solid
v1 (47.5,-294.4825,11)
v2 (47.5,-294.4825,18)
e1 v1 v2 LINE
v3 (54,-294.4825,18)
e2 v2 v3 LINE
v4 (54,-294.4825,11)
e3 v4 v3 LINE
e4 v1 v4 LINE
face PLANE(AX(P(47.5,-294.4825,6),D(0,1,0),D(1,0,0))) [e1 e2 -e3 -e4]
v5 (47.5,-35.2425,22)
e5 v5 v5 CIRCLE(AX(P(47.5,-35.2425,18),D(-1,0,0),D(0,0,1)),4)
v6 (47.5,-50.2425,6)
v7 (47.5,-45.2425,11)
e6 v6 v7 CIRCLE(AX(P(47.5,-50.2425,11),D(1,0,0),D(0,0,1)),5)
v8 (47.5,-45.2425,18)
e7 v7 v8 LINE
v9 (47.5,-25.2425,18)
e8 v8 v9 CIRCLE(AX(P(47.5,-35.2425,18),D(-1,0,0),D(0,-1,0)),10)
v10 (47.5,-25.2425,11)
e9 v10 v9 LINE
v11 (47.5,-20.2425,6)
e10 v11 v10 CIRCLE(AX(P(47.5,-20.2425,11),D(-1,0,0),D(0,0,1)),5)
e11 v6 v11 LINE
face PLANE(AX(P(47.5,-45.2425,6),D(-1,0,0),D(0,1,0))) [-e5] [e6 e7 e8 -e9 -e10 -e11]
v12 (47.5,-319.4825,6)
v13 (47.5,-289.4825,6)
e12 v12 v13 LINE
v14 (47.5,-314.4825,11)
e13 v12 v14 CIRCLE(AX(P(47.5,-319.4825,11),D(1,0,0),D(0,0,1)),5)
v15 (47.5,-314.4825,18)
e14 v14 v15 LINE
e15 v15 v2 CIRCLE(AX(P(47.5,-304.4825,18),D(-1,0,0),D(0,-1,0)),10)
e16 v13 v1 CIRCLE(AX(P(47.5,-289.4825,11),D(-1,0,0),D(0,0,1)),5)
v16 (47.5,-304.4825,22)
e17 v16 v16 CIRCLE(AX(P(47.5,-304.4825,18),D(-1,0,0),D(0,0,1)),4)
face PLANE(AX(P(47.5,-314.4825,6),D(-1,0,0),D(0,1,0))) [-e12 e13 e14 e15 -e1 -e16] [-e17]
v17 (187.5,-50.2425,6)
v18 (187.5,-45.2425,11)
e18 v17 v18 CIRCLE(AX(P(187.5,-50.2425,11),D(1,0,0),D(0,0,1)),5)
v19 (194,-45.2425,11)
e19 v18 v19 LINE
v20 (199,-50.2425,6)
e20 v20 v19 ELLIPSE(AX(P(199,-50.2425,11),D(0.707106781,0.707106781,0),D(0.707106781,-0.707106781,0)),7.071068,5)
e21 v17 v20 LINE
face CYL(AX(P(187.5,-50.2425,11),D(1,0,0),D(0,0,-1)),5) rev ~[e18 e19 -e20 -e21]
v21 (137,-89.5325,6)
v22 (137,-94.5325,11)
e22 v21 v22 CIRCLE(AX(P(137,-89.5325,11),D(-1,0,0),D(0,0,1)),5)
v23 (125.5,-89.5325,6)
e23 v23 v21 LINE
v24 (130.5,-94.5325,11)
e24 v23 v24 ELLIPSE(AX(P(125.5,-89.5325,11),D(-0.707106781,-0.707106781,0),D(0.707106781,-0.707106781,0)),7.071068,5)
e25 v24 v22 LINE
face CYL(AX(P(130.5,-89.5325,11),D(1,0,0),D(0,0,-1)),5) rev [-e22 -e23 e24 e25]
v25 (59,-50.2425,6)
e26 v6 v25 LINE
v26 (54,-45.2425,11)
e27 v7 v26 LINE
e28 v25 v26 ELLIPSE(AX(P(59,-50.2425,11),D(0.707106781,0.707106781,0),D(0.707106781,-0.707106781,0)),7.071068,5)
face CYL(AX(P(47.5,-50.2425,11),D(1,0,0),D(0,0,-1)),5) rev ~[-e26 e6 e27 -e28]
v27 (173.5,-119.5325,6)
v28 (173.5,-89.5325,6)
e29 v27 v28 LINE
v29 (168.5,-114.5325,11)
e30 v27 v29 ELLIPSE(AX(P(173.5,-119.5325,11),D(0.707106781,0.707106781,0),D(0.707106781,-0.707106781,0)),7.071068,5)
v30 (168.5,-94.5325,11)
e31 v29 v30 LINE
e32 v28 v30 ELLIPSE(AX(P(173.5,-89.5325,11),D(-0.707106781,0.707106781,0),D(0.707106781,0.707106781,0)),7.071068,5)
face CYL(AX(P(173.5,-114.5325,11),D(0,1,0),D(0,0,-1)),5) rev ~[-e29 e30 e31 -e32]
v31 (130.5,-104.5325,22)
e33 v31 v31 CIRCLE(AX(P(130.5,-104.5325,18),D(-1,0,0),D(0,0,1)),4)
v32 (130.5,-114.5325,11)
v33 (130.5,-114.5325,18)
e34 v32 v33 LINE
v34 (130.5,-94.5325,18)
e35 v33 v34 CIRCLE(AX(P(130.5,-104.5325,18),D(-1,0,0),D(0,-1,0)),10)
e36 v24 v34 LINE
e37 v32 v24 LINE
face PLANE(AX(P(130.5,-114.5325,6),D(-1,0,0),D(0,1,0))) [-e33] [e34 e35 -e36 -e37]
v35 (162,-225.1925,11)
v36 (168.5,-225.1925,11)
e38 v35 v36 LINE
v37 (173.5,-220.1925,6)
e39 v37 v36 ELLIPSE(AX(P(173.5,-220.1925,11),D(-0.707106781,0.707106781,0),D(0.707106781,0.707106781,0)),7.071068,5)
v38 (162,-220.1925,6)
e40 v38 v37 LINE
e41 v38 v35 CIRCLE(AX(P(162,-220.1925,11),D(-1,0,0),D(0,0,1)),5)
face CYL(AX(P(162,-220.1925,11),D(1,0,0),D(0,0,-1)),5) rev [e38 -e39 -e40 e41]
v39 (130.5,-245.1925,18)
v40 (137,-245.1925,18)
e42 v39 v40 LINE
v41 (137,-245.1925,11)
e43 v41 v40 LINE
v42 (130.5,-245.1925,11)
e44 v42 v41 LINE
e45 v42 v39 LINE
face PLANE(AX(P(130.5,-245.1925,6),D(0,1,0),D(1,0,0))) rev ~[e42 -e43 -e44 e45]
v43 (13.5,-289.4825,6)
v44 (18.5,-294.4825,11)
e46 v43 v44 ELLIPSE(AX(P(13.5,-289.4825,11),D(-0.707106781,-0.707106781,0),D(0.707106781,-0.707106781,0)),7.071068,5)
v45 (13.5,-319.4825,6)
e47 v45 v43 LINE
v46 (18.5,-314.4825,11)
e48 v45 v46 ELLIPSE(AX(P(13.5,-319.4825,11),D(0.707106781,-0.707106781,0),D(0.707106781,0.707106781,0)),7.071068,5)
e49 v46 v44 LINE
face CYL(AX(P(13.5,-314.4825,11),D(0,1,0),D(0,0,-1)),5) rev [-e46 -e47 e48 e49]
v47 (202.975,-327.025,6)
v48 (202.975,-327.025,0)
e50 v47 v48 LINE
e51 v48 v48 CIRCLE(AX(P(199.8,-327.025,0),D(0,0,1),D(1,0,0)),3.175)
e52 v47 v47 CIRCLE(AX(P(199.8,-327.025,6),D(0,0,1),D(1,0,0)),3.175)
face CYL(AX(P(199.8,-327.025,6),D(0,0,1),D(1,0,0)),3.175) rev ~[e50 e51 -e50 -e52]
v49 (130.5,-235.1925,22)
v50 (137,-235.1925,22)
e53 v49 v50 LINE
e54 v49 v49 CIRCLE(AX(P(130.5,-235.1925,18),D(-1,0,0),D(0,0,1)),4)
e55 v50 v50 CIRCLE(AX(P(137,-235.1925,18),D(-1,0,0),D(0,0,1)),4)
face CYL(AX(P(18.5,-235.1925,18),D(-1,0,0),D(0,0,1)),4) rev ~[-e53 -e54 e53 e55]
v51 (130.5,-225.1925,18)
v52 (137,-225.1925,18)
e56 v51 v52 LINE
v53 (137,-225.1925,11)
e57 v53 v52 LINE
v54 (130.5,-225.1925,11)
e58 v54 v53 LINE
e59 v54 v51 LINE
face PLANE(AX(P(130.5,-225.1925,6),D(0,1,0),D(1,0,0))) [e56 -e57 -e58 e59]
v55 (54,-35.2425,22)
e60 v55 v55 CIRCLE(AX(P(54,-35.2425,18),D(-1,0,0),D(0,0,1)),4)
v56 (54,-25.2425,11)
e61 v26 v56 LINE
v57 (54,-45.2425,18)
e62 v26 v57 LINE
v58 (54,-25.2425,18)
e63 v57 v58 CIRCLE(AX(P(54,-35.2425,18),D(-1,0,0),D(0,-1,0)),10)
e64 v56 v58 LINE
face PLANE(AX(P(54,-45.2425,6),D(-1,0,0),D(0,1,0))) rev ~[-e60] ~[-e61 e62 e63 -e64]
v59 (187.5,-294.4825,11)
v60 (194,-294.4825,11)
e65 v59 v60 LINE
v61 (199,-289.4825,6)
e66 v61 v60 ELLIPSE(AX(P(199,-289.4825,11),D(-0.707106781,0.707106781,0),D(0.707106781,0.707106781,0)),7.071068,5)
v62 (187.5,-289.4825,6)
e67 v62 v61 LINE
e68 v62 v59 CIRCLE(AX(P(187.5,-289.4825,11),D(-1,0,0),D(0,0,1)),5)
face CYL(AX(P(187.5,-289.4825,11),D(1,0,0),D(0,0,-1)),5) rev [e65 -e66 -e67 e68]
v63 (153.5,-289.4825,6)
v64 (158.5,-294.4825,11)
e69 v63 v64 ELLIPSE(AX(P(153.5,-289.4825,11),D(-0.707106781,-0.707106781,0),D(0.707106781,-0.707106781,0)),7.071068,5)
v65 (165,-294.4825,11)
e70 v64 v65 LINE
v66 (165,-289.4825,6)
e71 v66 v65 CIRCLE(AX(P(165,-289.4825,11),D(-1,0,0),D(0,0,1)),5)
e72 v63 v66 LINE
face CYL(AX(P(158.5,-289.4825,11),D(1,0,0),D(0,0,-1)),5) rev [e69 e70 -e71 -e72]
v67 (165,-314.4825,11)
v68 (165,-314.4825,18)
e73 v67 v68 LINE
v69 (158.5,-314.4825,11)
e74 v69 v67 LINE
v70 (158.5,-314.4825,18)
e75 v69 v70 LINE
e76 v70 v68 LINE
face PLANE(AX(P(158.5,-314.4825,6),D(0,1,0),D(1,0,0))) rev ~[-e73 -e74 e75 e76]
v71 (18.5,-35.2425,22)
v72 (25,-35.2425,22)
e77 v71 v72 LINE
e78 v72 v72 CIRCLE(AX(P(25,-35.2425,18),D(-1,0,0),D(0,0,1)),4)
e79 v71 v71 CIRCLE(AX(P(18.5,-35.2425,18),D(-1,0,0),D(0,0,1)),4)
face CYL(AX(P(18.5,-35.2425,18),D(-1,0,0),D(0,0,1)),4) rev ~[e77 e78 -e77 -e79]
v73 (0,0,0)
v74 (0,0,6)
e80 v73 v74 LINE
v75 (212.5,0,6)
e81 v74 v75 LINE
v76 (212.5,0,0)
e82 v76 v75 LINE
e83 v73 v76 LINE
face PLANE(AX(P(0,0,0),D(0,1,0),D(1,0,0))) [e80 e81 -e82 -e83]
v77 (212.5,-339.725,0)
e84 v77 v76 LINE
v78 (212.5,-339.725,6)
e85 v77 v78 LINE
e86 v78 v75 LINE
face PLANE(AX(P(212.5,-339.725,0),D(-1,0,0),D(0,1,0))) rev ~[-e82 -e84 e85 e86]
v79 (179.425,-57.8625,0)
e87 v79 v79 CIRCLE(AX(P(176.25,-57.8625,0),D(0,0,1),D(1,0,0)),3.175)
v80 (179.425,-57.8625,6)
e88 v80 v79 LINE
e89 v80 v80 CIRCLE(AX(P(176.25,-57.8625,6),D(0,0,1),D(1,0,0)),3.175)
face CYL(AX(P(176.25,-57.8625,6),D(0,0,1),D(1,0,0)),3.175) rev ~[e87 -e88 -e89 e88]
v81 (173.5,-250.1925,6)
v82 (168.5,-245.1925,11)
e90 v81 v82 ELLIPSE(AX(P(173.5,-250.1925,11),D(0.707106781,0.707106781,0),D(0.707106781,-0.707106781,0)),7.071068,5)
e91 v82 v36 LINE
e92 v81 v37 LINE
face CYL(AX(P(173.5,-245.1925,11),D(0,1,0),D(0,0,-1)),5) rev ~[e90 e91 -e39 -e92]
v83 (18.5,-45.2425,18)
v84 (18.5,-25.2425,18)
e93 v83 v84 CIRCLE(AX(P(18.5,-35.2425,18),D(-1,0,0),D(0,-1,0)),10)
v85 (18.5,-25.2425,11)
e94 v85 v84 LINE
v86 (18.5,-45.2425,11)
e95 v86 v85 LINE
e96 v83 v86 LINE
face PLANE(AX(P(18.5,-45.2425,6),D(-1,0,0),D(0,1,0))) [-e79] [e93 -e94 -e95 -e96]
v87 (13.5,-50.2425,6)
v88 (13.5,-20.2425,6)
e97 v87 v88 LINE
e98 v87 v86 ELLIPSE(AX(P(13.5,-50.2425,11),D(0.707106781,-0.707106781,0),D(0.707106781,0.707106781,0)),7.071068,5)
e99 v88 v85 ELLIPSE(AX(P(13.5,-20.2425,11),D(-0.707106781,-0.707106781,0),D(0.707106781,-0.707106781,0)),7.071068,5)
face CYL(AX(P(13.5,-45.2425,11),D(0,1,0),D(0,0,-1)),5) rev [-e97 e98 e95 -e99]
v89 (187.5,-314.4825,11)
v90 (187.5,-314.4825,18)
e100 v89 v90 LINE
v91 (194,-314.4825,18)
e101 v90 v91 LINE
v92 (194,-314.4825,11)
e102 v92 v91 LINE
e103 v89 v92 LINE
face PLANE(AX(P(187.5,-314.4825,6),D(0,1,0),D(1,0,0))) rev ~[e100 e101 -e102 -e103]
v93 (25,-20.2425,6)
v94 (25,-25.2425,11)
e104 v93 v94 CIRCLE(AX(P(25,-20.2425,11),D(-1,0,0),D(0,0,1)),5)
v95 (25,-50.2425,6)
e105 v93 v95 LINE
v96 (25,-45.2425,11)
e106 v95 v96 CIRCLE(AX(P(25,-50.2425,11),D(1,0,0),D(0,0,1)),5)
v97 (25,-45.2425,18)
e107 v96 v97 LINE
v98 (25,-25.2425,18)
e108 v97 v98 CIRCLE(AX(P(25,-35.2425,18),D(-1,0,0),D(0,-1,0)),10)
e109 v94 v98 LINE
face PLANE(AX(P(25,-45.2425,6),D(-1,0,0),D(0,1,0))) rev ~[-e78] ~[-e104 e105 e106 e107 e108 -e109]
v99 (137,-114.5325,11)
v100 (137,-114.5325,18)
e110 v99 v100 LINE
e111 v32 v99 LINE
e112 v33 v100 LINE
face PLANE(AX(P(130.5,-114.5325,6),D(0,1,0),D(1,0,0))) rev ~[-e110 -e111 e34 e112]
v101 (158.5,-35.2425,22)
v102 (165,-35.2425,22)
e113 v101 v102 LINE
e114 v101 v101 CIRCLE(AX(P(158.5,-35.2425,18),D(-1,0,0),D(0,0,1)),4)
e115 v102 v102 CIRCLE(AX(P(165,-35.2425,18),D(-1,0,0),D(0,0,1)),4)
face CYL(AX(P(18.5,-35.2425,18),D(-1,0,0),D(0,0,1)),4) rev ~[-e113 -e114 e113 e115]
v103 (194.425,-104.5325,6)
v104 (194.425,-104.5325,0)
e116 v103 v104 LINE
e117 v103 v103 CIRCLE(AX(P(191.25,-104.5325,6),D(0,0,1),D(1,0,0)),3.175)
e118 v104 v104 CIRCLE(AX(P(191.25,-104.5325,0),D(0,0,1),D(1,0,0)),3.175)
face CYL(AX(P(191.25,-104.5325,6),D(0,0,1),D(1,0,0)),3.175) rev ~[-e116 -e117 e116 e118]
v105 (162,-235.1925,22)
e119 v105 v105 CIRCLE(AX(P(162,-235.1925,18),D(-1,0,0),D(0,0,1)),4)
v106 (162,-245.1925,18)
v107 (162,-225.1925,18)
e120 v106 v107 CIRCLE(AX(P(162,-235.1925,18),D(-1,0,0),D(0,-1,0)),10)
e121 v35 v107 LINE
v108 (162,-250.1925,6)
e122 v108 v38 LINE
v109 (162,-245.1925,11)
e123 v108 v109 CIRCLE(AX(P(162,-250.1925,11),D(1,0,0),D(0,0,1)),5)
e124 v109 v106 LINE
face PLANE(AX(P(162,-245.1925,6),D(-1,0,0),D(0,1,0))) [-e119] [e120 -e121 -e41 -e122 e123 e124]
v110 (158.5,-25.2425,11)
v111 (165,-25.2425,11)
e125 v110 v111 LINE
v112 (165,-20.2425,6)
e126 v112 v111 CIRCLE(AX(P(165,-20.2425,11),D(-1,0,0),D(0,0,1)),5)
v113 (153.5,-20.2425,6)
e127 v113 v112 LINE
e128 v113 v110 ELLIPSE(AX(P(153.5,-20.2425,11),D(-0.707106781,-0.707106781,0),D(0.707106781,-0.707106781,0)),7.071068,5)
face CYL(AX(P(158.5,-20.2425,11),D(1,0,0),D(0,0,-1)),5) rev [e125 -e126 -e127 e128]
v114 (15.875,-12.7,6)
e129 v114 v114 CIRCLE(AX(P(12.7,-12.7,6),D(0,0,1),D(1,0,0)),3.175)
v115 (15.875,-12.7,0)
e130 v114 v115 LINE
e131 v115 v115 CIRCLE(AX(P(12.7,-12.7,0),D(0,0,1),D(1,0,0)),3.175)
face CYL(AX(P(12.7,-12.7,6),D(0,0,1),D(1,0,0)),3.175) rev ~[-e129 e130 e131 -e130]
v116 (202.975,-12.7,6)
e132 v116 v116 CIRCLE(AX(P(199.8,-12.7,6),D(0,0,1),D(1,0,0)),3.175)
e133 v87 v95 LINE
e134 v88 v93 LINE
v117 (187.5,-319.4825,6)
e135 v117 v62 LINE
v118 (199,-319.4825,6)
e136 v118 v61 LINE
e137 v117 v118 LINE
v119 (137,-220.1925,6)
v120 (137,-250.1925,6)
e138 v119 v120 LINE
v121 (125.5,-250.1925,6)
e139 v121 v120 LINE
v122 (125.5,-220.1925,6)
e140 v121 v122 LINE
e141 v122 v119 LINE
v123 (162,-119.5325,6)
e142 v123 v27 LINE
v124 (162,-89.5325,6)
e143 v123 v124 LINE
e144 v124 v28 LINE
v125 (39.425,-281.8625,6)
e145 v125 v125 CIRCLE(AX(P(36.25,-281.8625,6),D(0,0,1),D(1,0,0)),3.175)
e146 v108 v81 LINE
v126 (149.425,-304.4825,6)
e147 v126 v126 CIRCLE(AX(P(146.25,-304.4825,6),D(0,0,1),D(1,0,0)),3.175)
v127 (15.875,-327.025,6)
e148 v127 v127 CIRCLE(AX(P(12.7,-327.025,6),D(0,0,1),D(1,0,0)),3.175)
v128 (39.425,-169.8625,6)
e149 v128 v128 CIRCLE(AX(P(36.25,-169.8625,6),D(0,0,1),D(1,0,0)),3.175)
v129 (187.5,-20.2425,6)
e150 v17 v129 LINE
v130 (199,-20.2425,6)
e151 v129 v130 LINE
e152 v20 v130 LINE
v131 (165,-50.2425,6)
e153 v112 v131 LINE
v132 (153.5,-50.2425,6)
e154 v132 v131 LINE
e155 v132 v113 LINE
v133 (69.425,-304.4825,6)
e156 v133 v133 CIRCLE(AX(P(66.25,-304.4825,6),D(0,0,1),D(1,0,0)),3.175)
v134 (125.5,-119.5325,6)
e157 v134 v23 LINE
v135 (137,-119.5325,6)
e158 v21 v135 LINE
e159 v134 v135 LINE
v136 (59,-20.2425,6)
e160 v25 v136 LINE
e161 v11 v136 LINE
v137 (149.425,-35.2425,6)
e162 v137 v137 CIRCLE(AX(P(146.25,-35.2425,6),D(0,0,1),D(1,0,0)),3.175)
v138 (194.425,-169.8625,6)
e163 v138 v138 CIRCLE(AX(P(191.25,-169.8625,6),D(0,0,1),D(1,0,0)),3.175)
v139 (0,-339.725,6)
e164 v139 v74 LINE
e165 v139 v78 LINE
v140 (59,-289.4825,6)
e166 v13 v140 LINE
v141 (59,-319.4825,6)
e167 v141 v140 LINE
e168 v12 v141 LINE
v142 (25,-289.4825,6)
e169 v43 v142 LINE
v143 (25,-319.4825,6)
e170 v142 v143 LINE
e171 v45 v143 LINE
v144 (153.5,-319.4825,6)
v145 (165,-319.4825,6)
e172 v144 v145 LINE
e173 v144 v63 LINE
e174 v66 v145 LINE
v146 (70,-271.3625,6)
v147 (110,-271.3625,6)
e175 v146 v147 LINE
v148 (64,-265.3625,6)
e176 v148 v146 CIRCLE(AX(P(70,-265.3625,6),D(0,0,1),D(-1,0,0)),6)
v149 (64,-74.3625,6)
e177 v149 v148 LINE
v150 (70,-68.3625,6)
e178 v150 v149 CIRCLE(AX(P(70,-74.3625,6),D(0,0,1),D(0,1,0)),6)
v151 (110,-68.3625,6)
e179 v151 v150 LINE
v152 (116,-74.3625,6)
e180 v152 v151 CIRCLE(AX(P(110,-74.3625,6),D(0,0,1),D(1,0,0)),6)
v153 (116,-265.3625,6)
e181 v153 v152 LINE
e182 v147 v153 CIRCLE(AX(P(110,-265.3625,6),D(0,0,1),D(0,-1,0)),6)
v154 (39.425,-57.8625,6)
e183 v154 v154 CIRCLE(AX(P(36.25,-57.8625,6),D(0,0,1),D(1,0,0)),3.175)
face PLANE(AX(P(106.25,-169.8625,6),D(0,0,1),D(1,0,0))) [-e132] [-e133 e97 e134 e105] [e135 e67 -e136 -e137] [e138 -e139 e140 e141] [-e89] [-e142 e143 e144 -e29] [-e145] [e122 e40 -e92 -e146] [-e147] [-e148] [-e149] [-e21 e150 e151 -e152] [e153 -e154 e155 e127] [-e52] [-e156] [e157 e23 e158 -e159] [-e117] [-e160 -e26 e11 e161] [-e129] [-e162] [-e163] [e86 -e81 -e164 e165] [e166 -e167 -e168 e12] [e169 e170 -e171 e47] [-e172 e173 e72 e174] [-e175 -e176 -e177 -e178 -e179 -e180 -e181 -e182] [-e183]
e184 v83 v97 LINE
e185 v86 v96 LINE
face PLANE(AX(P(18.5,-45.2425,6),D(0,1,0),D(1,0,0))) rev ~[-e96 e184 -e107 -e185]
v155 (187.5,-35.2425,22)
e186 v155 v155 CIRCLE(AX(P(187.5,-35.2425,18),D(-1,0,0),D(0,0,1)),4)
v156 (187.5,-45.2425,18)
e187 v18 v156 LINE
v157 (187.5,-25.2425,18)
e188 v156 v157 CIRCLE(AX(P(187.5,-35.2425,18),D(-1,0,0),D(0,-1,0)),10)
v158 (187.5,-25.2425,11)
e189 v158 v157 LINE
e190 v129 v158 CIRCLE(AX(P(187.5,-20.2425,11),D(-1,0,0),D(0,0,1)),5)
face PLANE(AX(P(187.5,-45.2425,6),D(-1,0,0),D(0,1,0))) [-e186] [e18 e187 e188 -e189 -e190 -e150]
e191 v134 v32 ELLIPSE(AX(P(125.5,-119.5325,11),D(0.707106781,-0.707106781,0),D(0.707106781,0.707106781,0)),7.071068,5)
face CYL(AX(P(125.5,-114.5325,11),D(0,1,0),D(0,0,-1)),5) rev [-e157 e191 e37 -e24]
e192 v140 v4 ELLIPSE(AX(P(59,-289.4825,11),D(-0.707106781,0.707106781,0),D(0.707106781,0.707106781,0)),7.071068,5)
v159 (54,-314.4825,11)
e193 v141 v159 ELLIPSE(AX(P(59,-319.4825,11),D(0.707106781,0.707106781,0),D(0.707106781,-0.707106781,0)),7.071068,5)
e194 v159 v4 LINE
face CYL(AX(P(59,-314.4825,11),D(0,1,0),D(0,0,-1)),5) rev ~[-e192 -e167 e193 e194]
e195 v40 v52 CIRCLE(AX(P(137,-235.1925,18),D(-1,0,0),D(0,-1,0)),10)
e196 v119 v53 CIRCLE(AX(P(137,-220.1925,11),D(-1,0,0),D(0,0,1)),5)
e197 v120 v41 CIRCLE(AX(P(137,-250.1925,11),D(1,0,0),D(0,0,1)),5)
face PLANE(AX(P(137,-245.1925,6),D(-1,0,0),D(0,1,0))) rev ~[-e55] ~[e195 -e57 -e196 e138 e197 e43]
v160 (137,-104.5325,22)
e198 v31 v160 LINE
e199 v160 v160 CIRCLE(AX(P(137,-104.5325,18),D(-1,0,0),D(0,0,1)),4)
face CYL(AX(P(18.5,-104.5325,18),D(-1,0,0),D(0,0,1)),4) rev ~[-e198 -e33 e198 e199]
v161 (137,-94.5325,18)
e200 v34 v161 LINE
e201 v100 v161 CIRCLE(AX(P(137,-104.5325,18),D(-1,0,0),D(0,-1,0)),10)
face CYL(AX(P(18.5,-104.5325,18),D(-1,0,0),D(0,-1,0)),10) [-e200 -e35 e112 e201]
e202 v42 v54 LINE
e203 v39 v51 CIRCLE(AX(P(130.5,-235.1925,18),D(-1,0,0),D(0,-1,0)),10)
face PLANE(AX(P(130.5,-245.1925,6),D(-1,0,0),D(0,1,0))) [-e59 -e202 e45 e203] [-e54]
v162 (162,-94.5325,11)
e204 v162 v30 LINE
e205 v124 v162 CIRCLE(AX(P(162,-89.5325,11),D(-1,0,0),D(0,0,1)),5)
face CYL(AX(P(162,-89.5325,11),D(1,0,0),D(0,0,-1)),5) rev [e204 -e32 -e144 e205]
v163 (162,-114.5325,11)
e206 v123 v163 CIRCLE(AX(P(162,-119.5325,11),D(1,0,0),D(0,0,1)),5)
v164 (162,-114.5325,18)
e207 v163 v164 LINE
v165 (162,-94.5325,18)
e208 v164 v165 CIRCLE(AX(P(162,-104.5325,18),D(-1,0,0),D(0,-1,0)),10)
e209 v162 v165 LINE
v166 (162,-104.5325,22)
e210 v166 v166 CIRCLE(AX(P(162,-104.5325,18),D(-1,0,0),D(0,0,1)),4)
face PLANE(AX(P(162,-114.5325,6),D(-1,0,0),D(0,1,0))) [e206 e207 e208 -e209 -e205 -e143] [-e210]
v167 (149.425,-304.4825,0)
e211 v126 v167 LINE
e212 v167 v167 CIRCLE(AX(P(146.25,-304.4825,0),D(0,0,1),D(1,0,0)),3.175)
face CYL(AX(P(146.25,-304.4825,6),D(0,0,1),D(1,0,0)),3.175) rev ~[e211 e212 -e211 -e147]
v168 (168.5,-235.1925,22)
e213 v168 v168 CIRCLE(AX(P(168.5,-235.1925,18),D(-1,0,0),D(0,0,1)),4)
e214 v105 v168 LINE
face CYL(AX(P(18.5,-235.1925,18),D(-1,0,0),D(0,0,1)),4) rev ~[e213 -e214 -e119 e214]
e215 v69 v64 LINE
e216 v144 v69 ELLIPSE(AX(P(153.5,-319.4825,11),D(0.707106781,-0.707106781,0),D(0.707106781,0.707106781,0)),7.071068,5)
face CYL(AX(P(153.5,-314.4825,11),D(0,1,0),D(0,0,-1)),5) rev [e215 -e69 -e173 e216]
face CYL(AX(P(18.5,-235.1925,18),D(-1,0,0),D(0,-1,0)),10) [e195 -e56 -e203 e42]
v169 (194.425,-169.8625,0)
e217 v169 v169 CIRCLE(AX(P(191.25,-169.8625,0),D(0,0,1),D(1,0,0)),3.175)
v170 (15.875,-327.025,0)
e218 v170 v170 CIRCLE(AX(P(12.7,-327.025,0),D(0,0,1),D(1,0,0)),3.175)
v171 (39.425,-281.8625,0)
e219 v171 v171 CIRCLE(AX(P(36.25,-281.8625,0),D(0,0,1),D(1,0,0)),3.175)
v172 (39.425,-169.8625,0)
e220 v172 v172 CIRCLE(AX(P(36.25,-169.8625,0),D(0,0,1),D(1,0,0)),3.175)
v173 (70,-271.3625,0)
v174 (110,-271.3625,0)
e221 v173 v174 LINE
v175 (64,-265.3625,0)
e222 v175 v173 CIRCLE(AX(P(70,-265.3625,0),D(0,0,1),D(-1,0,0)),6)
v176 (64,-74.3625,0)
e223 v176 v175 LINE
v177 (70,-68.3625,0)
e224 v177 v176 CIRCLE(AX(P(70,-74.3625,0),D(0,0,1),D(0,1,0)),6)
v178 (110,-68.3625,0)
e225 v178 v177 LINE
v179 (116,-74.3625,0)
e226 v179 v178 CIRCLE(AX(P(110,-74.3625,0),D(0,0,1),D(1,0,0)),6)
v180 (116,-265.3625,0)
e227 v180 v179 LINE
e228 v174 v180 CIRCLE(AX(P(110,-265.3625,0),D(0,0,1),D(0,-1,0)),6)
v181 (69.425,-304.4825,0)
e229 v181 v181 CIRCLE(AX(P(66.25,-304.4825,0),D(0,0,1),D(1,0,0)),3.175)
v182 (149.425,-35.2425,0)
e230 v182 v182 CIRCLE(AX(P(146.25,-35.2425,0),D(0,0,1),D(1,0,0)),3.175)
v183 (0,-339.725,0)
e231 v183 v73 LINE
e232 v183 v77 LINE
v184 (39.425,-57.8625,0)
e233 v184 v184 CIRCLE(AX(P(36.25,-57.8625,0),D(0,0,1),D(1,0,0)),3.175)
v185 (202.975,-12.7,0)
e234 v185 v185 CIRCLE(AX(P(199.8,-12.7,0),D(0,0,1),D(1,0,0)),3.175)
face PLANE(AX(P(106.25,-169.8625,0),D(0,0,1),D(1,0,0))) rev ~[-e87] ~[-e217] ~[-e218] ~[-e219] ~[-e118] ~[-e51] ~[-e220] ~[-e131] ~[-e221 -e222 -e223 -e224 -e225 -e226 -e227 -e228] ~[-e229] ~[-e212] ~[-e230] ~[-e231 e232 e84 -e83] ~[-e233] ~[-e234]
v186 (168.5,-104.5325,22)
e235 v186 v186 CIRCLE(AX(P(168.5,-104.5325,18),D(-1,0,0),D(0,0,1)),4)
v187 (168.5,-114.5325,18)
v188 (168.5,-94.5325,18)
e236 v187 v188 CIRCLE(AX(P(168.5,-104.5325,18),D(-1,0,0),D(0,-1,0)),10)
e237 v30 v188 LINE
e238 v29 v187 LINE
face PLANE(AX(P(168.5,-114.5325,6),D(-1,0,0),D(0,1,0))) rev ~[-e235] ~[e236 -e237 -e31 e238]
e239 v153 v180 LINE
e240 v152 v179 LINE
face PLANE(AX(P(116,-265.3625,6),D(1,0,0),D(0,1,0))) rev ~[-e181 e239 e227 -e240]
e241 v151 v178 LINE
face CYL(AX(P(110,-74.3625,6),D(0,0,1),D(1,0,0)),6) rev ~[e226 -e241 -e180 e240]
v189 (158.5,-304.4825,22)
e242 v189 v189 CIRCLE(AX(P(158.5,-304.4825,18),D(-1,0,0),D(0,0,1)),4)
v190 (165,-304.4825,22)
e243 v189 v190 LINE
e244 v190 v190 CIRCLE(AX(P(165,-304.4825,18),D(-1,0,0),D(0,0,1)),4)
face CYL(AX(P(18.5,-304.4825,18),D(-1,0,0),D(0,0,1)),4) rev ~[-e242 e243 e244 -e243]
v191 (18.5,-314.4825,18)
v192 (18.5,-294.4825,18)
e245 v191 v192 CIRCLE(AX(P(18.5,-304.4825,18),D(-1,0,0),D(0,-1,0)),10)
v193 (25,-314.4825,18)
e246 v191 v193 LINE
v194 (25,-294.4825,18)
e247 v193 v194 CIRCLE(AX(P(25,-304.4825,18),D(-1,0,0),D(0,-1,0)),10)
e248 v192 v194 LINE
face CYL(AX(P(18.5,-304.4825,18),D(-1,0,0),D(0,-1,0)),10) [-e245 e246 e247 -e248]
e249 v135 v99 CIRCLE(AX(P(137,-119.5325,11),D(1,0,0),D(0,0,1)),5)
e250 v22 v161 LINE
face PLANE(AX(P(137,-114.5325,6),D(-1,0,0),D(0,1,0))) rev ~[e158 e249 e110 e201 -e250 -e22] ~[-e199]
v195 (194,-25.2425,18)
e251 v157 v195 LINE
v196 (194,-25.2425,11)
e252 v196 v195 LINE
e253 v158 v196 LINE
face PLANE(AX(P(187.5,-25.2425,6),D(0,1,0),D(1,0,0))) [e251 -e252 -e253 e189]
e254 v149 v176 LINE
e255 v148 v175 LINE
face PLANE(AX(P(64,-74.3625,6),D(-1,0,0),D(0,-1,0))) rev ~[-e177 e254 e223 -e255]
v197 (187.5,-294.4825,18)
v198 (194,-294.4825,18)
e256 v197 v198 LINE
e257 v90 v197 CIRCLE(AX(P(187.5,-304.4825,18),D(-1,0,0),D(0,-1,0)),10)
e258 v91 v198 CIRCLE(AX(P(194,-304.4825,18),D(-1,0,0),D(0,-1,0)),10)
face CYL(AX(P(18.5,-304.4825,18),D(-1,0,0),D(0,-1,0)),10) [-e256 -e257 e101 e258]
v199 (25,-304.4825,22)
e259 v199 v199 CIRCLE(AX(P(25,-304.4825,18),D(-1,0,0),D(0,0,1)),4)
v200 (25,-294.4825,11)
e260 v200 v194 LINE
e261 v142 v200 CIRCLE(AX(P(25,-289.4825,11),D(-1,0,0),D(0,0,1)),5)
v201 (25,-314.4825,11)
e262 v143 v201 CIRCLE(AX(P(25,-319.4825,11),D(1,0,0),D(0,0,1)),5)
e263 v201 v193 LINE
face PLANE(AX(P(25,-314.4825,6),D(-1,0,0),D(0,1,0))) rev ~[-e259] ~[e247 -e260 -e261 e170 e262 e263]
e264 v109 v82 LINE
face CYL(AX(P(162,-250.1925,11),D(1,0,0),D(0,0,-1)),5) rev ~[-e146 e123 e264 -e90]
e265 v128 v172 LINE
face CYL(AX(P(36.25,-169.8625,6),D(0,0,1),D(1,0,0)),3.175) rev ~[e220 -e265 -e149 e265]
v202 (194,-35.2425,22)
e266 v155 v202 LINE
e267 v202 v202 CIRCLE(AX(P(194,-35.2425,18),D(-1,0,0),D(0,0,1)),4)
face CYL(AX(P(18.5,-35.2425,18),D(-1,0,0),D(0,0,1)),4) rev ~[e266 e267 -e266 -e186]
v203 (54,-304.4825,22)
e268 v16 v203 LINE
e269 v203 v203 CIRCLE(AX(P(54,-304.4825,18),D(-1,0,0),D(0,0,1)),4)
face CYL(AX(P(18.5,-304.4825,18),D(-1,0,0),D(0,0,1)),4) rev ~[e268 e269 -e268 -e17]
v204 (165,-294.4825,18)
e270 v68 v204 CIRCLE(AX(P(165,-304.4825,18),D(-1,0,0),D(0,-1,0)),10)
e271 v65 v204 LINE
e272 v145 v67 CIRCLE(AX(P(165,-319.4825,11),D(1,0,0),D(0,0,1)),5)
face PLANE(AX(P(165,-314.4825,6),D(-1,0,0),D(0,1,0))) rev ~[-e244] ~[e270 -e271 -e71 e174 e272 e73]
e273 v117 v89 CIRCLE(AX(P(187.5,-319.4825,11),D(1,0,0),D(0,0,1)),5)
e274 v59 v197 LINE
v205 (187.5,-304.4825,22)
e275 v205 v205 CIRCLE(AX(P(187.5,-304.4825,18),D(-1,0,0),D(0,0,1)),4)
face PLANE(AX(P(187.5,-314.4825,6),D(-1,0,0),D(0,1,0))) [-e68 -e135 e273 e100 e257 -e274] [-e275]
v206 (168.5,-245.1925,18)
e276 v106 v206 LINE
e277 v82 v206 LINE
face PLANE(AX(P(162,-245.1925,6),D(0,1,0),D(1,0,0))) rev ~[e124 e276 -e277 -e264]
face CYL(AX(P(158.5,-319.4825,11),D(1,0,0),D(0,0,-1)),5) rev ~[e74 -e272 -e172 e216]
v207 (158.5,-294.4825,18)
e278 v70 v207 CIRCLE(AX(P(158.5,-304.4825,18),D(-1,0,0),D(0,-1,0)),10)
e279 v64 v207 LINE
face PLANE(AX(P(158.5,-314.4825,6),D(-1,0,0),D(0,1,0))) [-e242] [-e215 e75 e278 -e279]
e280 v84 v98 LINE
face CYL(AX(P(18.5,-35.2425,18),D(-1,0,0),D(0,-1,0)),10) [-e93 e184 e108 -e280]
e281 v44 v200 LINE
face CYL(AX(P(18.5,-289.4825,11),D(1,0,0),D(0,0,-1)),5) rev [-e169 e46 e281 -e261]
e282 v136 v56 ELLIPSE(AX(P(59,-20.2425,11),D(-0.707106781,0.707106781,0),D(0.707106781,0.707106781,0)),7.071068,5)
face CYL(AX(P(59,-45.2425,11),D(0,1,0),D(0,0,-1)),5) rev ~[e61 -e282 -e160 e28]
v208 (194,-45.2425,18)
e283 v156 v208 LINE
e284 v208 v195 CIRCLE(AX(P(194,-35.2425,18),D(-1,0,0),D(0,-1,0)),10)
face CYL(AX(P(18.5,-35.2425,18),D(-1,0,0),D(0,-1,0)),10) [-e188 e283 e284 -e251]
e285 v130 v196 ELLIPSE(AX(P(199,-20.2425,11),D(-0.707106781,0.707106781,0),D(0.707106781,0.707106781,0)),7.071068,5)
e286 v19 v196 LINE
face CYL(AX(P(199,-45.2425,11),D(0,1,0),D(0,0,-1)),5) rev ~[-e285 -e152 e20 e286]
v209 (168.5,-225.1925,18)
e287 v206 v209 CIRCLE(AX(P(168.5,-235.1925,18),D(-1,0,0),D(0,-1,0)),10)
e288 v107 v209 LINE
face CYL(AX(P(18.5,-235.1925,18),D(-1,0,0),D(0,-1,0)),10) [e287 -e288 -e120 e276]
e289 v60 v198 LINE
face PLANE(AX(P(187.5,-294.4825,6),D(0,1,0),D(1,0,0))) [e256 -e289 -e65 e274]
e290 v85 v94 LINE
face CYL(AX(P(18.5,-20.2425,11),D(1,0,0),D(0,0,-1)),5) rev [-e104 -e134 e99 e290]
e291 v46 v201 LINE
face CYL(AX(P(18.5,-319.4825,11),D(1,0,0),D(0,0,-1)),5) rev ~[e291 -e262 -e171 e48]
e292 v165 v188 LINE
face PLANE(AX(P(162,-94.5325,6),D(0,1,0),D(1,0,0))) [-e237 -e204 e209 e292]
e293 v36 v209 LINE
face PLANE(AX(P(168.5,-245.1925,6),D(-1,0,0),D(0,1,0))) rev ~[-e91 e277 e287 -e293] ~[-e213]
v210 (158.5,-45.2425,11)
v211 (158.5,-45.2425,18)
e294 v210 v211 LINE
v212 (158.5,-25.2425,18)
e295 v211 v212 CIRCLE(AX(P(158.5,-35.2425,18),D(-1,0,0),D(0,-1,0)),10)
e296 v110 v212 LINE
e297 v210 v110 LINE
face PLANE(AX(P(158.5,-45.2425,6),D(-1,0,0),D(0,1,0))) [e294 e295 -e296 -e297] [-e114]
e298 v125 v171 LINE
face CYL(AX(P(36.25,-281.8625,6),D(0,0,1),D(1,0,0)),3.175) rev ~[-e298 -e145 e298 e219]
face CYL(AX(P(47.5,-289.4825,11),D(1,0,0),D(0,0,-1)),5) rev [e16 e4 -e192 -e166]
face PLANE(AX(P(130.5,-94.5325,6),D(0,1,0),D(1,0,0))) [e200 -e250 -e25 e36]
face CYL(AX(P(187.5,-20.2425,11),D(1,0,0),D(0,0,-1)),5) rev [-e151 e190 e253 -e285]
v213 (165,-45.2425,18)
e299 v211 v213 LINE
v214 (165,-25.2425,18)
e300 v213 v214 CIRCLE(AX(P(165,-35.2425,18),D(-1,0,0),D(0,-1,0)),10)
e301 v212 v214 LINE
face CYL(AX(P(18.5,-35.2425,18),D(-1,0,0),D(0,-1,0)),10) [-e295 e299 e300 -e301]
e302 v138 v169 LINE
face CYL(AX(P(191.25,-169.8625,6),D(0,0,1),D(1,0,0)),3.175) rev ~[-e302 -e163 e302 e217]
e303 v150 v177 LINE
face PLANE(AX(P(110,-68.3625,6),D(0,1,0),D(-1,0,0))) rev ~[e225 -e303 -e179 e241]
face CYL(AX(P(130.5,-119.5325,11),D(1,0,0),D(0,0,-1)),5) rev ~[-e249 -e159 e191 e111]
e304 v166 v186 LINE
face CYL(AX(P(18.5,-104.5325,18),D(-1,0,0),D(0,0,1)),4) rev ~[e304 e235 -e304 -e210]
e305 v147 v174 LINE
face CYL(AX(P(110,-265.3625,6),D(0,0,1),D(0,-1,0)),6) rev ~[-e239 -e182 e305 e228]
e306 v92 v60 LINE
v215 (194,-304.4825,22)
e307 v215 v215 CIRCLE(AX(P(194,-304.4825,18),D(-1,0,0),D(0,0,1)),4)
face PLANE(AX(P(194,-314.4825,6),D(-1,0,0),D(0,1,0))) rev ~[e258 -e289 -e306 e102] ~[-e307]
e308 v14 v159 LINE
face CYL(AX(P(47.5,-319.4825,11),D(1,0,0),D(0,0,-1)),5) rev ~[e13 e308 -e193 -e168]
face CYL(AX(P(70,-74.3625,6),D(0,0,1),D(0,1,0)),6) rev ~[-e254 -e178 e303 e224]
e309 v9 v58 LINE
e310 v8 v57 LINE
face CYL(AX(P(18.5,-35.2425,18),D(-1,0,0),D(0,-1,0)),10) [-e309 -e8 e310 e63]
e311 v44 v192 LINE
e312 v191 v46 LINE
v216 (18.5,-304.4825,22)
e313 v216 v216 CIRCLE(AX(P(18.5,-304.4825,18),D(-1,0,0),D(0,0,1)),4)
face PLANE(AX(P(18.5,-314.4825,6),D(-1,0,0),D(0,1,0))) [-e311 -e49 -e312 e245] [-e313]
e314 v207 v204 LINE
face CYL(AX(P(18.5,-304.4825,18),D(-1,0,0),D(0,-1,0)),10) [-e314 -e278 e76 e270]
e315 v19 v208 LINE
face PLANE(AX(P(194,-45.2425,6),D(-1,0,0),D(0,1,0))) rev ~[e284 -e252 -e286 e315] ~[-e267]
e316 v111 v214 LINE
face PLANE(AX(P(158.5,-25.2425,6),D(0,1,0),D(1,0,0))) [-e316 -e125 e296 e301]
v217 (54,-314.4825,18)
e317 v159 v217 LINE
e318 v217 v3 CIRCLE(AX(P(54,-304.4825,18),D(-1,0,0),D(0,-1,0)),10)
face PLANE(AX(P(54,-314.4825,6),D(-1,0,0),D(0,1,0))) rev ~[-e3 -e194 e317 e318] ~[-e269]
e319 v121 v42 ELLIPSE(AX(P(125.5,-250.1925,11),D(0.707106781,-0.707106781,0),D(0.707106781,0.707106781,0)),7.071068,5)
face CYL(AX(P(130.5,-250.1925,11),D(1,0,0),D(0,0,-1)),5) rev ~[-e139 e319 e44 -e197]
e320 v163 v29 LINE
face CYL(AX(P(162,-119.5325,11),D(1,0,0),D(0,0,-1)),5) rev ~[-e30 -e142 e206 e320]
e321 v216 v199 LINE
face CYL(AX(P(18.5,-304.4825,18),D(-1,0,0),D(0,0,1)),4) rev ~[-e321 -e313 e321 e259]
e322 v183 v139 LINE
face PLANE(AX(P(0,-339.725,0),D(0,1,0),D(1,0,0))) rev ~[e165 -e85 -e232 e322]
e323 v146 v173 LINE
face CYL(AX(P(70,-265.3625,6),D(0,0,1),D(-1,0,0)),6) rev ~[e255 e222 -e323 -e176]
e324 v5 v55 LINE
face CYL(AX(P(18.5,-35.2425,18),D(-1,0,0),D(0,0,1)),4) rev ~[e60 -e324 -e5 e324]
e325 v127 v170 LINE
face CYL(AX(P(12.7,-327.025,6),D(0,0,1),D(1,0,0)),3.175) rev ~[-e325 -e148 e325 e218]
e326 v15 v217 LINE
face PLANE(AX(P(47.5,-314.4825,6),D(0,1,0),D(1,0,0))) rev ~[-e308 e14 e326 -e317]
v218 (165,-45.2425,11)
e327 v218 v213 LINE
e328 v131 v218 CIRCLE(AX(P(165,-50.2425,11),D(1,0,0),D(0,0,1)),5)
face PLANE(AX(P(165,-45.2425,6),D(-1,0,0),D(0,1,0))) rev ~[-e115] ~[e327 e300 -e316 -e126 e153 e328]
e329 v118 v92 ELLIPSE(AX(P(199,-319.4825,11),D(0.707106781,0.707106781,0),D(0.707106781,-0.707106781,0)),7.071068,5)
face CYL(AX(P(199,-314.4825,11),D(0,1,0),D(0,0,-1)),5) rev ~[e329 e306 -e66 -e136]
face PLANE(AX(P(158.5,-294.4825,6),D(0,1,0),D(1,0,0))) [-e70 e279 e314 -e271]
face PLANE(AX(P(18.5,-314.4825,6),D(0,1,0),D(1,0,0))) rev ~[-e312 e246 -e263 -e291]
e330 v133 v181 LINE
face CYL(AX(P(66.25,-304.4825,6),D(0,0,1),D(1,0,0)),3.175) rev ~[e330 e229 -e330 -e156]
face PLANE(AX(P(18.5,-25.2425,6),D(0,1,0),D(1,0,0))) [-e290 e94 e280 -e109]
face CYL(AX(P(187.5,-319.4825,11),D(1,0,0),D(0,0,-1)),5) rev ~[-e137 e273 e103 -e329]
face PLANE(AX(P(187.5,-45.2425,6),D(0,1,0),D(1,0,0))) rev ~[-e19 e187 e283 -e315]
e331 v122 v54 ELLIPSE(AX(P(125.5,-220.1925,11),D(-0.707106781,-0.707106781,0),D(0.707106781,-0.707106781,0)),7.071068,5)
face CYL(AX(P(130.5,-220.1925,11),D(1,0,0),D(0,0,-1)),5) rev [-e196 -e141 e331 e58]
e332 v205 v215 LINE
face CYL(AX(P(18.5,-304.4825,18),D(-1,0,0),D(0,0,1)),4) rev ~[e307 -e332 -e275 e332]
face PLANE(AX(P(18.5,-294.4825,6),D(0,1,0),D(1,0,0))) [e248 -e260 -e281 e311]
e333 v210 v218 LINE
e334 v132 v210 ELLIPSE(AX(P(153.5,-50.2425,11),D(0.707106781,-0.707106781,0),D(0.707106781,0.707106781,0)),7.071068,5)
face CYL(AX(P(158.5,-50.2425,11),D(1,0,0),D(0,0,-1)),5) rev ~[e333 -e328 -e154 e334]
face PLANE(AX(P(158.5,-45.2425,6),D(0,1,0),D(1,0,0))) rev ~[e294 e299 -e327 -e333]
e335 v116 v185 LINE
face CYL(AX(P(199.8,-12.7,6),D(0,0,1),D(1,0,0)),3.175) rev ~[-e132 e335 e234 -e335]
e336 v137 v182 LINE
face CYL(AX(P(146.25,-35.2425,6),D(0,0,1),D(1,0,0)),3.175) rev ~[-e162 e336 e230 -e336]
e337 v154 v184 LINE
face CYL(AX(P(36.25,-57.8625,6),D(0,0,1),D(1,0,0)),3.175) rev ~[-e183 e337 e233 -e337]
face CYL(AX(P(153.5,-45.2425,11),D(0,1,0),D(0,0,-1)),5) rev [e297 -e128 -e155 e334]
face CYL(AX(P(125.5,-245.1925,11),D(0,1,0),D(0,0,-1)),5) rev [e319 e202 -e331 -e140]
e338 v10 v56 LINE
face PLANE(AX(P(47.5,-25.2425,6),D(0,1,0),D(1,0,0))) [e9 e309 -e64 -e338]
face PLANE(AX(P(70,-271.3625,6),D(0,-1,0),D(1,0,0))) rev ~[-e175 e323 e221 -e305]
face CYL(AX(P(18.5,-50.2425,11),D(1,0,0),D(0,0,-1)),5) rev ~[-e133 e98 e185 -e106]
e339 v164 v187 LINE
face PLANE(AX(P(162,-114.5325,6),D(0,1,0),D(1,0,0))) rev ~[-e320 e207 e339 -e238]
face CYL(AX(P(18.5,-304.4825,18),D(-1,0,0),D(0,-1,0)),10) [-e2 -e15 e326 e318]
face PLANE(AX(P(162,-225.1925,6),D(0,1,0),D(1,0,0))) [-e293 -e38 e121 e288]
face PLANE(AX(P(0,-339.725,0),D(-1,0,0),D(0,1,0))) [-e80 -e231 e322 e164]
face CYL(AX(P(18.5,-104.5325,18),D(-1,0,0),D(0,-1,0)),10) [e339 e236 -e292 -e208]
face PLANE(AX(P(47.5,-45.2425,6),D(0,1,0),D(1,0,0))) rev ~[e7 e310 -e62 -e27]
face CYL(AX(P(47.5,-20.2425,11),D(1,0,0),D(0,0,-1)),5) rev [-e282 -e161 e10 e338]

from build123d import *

# Parameters (mm, degrees)
SKETCH1_W               = 212.5
SKETCH1_H               = 339.725
BOSS_EXTRUDE1_DEPTH     = 6
SKETCH2_W               = 6.5
SKETCH2_H               = 20
BOSS_EXTRUDE2_DEPTH     = 24
SKETCH3_R               = 4
CUT_EXTRUDE1_DEPTH      = 19.5
CUT_EXTRUDE1_DEPTH_BACK = 195
FILLET2_R               = 5
SKETCH5_R               = 3.175
CUT_EXTRUDE2_DEPTH      = 7
CUT_EXTRUDE3_DEPTH      = 7


with BuildPart() as part:
    # Sketch1 → Boss-Extrude1 (new body)
    with BuildSketch(Plane.XY):
        with Locations((106.25, -169.8625)):
            Rectangle(SKETCH1_W, SKETCH1_H)
    extrude(amount=BOSS_EXTRUDE1_DEPTH)

    # Sketch2 → Boss-Extrude2 (add)
    with BuildSketch(Plane.XY.offset(6)):
        with Locations((21.75, -35.2425)):
            Rectangle(SKETCH2_W, SKETCH2_H)
        with Locations((50.75, -35.2425)):
            Rectangle(SKETCH2_W, SKETCH2_H)
        with Locations((190.75, -35.2425)):
            Rectangle(SKETCH2_W, SKETCH2_H)
        with Locations((161.75, -35.2425)):
            Rectangle(SKETCH2_W, SKETCH2_H)
        with Locations((133.75, -104.5325)):
            Rectangle(SKETCH2_W, SKETCH2_H)
        with Locations((165.25, -104.5325)):
            Rectangle(SKETCH2_W, SKETCH2_H)
        with Locations((165.25, -235.1925)):
            Rectangle(SKETCH2_W, SKETCH2_H)
        with Locations((21.75, -304.4825)):
            Rectangle(SKETCH2_W, SKETCH2_H)
        with Locations((50.75, -304.4825)):
            Rectangle(SKETCH2_W, SKETCH2_H)
        with Locations((190.75, -304.4825)):
            Rectangle(SKETCH2_W, SKETCH2_H)
        with Locations((161.75, -304.4825)):
            Rectangle(SKETCH2_W, SKETCH2_H)
        with Locations((133.75, -235.1925)):
            Rectangle(SKETCH2_W, SKETCH2_H)
    extrude(amount=BOSS_EXTRUDE2_DEPTH)

    # Sketch3 → Cut-Extrude1 (cut, two sides)
    with BuildSketch(Plane.ZY.offset(-18.5)) as cut_extrude1_sk:
        with Locations((18, -35.2425)):
            Circle(SKETCH3_R)
        with Locations((18, -235.1925)):
            Circle(SKETCH3_R)
        with Locations((18, -304.4825)):
            Circle(SKETCH3_R)
        with Locations((18, -104.5325)):
            Circle(SKETCH3_R)
        with BuildLine():
            Line((18, -25.2425), (18, -12.982943413))
            Line((18, -12.982943413), (51.949532367, -12.982943413))
            Line((51.949532367, -12.982943413), (51.949532367, -57.481006387))
            Line((51.949532367, -57.481006387), (18, -57.481006387))
            Line((18, -57.481006387), (18, -45.2425))
            ThreePointArc((18, -45.2425), (28, -35.2425), (18, -25.2425))
        make_face()
        with BuildLine():
            Line((52.442304634, -132.399123951), (18, -132.399123951))
            Line((18, -132.399123951), (18, -114.5325))
            ThreePointArc((18, -114.5325), (28, -104.5325), (18, -94.5325))
            Line((18, -94.5325), (18, -71.59149594))
            Line((18, -71.59149594), (52.442304634, -71.59149594))
            Line((52.442304634, -71.59149594), (52.442304634, -132.399123951))
        make_face()
        with BuildLine():
            Line((52.599532243, -270.375386727), (18, -270.375386727))
            Line((18, -270.375386727), (18, -245.1925))
            ThreePointArc((18, -245.1925), (28, -235.1925), (18, -225.1925))
            Line((18, -225.1925), (18, -207.306351849))
            Line((18, -207.306351849), (52.599532243, -207.306351849))
            Line((52.599532243, -207.306351849), (52.599532243, -270.375386727))
        make_face()
        with BuildLine():
            Line((52.621034016, -326.721115515), (18, -326.721115515))
            Line((18, -326.721115515), (18, -314.4825))
            ThreePointArc((18, -314.4825), (28, -304.4825), (18, -294.4825))
            Line((18, -294.4825), (18, -282.222834285))
            Line((18, -282.222834285), (52.621034016, -282.222834285))
            Line((52.621034016, -282.222834285), (52.621034016, -326.721115515))
        make_face()
    extrude(amount=CUT_EXTRUDE1_DEPTH, mode=Mode.SUBTRACT)
    extrude(cut_extrude1_sk.sketch, amount=-CUT_EXTRUDE1_DEPTH_BACK, mode=Mode.SUBTRACT)

    # Fillet2
    fillet2_edges = [part.edges().sort_by_distance(p)[0] for p in [
        (190.75, -45.2425, 6),
        (194, -35.2425, 6),
        (190.75, -25.2425, 6),
        (50.75, -45.2425, 6),
        (54, -35.2425, 6),
        (50.75, -25.2425, 6),
        (21.75, -25.2425, 6),
        (18.5, -35.2425, 6),
        (21.75, -45.2425, 6),
        (161.75, -25.2425, 6),
        (158.5, -35.2425, 6),
        (161.75, -45.2425, 6),
        (161.75, -294.4825, 6),
        (161.75, -314.4825, 6),
        (158.5, -304.4825, 6),
        (190.75, -314.4825, 6),
        (194, -304.4825, 6),
        (190.75, -294.4825, 6),
        (165.25, -245.1925, 6),
        (168.5, -235.1925, 6),
        (165.25, -225.1925, 6),
        (133.75, -225.1925, 6),
        (130.5, -235.1925, 6),
        (133.75, -245.1925, 6),
        (50.75, -314.4825, 6),
        (54, -304.4825, 6),
        (50.75, -294.4825, 6),
        (21.75, -294.4825, 6),
        (21.75, -314.4825, 6),
        (18.5, -304.4825, 6),
        (165.25, -114.5325, 6),
        (165.25, -94.5325, 6),
        (168.5, -104.5325, 6),
        (133.75, -94.5325, 6),
        (130.5, -104.5325, 6),
        (133.75, -114.5325, 6),
    ]]
    fillet(fillet2_edges, radius=FILLET2_R)

    # Sketch5 → Cut-Extrude2 (cut, through all)
    with BuildSketch(Plane.XY.offset(6)):
        with Locations((12.7, -12.7)):
            Circle(SKETCH5_R)
        with Locations((199.8, -12.7)):
            Circle(SKETCH5_R)
        with Locations((146.25, -35.2425)):
            Circle(SKETCH5_R)
        with Locations((176.25, -57.8625)):
            Circle(SKETCH5_R)
        with Locations((36.25, -57.8625)):
            Circle(SKETCH5_R)
        with Locations((191.25, -104.5325)):
            Circle(SKETCH5_R)
        with Locations((36.25, -169.8625)):
            Circle(SKETCH5_R)
        with Locations((191.25, -169.8625)):
            Circle(SKETCH5_R)
        with Locations((36.25, -281.8625)):
            Circle(SKETCH5_R)
        with Locations((66.25, -304.4825)):
            Circle(SKETCH5_R)
        with Locations((12.7, -327.025)):
            Circle(SKETCH5_R)
        with Locations((199.8, -327.025)):
            Circle(SKETCH5_R)
        with Locations((146.25, -304.4825)):
            Circle(SKETCH5_R)
    extrude(amount=-CUT_EXTRUDE2_DEPTH, mode=Mode.SUBTRACT)

    # Sketch9 → Cut-Extrude3 (cut, through all)
    with BuildSketch(Plane.XY.offset(6)):
        with BuildLine():
            Line((70, -271.3625), (110, -271.3625))
            ThreePointArc((110, -271.3625), (114.242640687, -269.605140687), (116, -265.3625))
            Line((116, -265.3625), (116, -74.3625))
            ThreePointArc((116, -74.3625), (114.242640687, -70.119859313), (110, -68.3625))
            Line((110, -68.3625), (70, -68.3625))
            ThreePointArc((70, -68.3625), (65.757359313, -70.119859313), (64, -74.3625))
            Line((64, -74.3625), (64, -265.3625))
            ThreePointArc((64, -265.3625), (65.757359313, -269.605140687), (70, -271.3625))
        make_face()
    extrude(amount=-CUT_EXTRUDE3_DEPTH, mode=Mode.SUBTRACT)


solid = part.part
